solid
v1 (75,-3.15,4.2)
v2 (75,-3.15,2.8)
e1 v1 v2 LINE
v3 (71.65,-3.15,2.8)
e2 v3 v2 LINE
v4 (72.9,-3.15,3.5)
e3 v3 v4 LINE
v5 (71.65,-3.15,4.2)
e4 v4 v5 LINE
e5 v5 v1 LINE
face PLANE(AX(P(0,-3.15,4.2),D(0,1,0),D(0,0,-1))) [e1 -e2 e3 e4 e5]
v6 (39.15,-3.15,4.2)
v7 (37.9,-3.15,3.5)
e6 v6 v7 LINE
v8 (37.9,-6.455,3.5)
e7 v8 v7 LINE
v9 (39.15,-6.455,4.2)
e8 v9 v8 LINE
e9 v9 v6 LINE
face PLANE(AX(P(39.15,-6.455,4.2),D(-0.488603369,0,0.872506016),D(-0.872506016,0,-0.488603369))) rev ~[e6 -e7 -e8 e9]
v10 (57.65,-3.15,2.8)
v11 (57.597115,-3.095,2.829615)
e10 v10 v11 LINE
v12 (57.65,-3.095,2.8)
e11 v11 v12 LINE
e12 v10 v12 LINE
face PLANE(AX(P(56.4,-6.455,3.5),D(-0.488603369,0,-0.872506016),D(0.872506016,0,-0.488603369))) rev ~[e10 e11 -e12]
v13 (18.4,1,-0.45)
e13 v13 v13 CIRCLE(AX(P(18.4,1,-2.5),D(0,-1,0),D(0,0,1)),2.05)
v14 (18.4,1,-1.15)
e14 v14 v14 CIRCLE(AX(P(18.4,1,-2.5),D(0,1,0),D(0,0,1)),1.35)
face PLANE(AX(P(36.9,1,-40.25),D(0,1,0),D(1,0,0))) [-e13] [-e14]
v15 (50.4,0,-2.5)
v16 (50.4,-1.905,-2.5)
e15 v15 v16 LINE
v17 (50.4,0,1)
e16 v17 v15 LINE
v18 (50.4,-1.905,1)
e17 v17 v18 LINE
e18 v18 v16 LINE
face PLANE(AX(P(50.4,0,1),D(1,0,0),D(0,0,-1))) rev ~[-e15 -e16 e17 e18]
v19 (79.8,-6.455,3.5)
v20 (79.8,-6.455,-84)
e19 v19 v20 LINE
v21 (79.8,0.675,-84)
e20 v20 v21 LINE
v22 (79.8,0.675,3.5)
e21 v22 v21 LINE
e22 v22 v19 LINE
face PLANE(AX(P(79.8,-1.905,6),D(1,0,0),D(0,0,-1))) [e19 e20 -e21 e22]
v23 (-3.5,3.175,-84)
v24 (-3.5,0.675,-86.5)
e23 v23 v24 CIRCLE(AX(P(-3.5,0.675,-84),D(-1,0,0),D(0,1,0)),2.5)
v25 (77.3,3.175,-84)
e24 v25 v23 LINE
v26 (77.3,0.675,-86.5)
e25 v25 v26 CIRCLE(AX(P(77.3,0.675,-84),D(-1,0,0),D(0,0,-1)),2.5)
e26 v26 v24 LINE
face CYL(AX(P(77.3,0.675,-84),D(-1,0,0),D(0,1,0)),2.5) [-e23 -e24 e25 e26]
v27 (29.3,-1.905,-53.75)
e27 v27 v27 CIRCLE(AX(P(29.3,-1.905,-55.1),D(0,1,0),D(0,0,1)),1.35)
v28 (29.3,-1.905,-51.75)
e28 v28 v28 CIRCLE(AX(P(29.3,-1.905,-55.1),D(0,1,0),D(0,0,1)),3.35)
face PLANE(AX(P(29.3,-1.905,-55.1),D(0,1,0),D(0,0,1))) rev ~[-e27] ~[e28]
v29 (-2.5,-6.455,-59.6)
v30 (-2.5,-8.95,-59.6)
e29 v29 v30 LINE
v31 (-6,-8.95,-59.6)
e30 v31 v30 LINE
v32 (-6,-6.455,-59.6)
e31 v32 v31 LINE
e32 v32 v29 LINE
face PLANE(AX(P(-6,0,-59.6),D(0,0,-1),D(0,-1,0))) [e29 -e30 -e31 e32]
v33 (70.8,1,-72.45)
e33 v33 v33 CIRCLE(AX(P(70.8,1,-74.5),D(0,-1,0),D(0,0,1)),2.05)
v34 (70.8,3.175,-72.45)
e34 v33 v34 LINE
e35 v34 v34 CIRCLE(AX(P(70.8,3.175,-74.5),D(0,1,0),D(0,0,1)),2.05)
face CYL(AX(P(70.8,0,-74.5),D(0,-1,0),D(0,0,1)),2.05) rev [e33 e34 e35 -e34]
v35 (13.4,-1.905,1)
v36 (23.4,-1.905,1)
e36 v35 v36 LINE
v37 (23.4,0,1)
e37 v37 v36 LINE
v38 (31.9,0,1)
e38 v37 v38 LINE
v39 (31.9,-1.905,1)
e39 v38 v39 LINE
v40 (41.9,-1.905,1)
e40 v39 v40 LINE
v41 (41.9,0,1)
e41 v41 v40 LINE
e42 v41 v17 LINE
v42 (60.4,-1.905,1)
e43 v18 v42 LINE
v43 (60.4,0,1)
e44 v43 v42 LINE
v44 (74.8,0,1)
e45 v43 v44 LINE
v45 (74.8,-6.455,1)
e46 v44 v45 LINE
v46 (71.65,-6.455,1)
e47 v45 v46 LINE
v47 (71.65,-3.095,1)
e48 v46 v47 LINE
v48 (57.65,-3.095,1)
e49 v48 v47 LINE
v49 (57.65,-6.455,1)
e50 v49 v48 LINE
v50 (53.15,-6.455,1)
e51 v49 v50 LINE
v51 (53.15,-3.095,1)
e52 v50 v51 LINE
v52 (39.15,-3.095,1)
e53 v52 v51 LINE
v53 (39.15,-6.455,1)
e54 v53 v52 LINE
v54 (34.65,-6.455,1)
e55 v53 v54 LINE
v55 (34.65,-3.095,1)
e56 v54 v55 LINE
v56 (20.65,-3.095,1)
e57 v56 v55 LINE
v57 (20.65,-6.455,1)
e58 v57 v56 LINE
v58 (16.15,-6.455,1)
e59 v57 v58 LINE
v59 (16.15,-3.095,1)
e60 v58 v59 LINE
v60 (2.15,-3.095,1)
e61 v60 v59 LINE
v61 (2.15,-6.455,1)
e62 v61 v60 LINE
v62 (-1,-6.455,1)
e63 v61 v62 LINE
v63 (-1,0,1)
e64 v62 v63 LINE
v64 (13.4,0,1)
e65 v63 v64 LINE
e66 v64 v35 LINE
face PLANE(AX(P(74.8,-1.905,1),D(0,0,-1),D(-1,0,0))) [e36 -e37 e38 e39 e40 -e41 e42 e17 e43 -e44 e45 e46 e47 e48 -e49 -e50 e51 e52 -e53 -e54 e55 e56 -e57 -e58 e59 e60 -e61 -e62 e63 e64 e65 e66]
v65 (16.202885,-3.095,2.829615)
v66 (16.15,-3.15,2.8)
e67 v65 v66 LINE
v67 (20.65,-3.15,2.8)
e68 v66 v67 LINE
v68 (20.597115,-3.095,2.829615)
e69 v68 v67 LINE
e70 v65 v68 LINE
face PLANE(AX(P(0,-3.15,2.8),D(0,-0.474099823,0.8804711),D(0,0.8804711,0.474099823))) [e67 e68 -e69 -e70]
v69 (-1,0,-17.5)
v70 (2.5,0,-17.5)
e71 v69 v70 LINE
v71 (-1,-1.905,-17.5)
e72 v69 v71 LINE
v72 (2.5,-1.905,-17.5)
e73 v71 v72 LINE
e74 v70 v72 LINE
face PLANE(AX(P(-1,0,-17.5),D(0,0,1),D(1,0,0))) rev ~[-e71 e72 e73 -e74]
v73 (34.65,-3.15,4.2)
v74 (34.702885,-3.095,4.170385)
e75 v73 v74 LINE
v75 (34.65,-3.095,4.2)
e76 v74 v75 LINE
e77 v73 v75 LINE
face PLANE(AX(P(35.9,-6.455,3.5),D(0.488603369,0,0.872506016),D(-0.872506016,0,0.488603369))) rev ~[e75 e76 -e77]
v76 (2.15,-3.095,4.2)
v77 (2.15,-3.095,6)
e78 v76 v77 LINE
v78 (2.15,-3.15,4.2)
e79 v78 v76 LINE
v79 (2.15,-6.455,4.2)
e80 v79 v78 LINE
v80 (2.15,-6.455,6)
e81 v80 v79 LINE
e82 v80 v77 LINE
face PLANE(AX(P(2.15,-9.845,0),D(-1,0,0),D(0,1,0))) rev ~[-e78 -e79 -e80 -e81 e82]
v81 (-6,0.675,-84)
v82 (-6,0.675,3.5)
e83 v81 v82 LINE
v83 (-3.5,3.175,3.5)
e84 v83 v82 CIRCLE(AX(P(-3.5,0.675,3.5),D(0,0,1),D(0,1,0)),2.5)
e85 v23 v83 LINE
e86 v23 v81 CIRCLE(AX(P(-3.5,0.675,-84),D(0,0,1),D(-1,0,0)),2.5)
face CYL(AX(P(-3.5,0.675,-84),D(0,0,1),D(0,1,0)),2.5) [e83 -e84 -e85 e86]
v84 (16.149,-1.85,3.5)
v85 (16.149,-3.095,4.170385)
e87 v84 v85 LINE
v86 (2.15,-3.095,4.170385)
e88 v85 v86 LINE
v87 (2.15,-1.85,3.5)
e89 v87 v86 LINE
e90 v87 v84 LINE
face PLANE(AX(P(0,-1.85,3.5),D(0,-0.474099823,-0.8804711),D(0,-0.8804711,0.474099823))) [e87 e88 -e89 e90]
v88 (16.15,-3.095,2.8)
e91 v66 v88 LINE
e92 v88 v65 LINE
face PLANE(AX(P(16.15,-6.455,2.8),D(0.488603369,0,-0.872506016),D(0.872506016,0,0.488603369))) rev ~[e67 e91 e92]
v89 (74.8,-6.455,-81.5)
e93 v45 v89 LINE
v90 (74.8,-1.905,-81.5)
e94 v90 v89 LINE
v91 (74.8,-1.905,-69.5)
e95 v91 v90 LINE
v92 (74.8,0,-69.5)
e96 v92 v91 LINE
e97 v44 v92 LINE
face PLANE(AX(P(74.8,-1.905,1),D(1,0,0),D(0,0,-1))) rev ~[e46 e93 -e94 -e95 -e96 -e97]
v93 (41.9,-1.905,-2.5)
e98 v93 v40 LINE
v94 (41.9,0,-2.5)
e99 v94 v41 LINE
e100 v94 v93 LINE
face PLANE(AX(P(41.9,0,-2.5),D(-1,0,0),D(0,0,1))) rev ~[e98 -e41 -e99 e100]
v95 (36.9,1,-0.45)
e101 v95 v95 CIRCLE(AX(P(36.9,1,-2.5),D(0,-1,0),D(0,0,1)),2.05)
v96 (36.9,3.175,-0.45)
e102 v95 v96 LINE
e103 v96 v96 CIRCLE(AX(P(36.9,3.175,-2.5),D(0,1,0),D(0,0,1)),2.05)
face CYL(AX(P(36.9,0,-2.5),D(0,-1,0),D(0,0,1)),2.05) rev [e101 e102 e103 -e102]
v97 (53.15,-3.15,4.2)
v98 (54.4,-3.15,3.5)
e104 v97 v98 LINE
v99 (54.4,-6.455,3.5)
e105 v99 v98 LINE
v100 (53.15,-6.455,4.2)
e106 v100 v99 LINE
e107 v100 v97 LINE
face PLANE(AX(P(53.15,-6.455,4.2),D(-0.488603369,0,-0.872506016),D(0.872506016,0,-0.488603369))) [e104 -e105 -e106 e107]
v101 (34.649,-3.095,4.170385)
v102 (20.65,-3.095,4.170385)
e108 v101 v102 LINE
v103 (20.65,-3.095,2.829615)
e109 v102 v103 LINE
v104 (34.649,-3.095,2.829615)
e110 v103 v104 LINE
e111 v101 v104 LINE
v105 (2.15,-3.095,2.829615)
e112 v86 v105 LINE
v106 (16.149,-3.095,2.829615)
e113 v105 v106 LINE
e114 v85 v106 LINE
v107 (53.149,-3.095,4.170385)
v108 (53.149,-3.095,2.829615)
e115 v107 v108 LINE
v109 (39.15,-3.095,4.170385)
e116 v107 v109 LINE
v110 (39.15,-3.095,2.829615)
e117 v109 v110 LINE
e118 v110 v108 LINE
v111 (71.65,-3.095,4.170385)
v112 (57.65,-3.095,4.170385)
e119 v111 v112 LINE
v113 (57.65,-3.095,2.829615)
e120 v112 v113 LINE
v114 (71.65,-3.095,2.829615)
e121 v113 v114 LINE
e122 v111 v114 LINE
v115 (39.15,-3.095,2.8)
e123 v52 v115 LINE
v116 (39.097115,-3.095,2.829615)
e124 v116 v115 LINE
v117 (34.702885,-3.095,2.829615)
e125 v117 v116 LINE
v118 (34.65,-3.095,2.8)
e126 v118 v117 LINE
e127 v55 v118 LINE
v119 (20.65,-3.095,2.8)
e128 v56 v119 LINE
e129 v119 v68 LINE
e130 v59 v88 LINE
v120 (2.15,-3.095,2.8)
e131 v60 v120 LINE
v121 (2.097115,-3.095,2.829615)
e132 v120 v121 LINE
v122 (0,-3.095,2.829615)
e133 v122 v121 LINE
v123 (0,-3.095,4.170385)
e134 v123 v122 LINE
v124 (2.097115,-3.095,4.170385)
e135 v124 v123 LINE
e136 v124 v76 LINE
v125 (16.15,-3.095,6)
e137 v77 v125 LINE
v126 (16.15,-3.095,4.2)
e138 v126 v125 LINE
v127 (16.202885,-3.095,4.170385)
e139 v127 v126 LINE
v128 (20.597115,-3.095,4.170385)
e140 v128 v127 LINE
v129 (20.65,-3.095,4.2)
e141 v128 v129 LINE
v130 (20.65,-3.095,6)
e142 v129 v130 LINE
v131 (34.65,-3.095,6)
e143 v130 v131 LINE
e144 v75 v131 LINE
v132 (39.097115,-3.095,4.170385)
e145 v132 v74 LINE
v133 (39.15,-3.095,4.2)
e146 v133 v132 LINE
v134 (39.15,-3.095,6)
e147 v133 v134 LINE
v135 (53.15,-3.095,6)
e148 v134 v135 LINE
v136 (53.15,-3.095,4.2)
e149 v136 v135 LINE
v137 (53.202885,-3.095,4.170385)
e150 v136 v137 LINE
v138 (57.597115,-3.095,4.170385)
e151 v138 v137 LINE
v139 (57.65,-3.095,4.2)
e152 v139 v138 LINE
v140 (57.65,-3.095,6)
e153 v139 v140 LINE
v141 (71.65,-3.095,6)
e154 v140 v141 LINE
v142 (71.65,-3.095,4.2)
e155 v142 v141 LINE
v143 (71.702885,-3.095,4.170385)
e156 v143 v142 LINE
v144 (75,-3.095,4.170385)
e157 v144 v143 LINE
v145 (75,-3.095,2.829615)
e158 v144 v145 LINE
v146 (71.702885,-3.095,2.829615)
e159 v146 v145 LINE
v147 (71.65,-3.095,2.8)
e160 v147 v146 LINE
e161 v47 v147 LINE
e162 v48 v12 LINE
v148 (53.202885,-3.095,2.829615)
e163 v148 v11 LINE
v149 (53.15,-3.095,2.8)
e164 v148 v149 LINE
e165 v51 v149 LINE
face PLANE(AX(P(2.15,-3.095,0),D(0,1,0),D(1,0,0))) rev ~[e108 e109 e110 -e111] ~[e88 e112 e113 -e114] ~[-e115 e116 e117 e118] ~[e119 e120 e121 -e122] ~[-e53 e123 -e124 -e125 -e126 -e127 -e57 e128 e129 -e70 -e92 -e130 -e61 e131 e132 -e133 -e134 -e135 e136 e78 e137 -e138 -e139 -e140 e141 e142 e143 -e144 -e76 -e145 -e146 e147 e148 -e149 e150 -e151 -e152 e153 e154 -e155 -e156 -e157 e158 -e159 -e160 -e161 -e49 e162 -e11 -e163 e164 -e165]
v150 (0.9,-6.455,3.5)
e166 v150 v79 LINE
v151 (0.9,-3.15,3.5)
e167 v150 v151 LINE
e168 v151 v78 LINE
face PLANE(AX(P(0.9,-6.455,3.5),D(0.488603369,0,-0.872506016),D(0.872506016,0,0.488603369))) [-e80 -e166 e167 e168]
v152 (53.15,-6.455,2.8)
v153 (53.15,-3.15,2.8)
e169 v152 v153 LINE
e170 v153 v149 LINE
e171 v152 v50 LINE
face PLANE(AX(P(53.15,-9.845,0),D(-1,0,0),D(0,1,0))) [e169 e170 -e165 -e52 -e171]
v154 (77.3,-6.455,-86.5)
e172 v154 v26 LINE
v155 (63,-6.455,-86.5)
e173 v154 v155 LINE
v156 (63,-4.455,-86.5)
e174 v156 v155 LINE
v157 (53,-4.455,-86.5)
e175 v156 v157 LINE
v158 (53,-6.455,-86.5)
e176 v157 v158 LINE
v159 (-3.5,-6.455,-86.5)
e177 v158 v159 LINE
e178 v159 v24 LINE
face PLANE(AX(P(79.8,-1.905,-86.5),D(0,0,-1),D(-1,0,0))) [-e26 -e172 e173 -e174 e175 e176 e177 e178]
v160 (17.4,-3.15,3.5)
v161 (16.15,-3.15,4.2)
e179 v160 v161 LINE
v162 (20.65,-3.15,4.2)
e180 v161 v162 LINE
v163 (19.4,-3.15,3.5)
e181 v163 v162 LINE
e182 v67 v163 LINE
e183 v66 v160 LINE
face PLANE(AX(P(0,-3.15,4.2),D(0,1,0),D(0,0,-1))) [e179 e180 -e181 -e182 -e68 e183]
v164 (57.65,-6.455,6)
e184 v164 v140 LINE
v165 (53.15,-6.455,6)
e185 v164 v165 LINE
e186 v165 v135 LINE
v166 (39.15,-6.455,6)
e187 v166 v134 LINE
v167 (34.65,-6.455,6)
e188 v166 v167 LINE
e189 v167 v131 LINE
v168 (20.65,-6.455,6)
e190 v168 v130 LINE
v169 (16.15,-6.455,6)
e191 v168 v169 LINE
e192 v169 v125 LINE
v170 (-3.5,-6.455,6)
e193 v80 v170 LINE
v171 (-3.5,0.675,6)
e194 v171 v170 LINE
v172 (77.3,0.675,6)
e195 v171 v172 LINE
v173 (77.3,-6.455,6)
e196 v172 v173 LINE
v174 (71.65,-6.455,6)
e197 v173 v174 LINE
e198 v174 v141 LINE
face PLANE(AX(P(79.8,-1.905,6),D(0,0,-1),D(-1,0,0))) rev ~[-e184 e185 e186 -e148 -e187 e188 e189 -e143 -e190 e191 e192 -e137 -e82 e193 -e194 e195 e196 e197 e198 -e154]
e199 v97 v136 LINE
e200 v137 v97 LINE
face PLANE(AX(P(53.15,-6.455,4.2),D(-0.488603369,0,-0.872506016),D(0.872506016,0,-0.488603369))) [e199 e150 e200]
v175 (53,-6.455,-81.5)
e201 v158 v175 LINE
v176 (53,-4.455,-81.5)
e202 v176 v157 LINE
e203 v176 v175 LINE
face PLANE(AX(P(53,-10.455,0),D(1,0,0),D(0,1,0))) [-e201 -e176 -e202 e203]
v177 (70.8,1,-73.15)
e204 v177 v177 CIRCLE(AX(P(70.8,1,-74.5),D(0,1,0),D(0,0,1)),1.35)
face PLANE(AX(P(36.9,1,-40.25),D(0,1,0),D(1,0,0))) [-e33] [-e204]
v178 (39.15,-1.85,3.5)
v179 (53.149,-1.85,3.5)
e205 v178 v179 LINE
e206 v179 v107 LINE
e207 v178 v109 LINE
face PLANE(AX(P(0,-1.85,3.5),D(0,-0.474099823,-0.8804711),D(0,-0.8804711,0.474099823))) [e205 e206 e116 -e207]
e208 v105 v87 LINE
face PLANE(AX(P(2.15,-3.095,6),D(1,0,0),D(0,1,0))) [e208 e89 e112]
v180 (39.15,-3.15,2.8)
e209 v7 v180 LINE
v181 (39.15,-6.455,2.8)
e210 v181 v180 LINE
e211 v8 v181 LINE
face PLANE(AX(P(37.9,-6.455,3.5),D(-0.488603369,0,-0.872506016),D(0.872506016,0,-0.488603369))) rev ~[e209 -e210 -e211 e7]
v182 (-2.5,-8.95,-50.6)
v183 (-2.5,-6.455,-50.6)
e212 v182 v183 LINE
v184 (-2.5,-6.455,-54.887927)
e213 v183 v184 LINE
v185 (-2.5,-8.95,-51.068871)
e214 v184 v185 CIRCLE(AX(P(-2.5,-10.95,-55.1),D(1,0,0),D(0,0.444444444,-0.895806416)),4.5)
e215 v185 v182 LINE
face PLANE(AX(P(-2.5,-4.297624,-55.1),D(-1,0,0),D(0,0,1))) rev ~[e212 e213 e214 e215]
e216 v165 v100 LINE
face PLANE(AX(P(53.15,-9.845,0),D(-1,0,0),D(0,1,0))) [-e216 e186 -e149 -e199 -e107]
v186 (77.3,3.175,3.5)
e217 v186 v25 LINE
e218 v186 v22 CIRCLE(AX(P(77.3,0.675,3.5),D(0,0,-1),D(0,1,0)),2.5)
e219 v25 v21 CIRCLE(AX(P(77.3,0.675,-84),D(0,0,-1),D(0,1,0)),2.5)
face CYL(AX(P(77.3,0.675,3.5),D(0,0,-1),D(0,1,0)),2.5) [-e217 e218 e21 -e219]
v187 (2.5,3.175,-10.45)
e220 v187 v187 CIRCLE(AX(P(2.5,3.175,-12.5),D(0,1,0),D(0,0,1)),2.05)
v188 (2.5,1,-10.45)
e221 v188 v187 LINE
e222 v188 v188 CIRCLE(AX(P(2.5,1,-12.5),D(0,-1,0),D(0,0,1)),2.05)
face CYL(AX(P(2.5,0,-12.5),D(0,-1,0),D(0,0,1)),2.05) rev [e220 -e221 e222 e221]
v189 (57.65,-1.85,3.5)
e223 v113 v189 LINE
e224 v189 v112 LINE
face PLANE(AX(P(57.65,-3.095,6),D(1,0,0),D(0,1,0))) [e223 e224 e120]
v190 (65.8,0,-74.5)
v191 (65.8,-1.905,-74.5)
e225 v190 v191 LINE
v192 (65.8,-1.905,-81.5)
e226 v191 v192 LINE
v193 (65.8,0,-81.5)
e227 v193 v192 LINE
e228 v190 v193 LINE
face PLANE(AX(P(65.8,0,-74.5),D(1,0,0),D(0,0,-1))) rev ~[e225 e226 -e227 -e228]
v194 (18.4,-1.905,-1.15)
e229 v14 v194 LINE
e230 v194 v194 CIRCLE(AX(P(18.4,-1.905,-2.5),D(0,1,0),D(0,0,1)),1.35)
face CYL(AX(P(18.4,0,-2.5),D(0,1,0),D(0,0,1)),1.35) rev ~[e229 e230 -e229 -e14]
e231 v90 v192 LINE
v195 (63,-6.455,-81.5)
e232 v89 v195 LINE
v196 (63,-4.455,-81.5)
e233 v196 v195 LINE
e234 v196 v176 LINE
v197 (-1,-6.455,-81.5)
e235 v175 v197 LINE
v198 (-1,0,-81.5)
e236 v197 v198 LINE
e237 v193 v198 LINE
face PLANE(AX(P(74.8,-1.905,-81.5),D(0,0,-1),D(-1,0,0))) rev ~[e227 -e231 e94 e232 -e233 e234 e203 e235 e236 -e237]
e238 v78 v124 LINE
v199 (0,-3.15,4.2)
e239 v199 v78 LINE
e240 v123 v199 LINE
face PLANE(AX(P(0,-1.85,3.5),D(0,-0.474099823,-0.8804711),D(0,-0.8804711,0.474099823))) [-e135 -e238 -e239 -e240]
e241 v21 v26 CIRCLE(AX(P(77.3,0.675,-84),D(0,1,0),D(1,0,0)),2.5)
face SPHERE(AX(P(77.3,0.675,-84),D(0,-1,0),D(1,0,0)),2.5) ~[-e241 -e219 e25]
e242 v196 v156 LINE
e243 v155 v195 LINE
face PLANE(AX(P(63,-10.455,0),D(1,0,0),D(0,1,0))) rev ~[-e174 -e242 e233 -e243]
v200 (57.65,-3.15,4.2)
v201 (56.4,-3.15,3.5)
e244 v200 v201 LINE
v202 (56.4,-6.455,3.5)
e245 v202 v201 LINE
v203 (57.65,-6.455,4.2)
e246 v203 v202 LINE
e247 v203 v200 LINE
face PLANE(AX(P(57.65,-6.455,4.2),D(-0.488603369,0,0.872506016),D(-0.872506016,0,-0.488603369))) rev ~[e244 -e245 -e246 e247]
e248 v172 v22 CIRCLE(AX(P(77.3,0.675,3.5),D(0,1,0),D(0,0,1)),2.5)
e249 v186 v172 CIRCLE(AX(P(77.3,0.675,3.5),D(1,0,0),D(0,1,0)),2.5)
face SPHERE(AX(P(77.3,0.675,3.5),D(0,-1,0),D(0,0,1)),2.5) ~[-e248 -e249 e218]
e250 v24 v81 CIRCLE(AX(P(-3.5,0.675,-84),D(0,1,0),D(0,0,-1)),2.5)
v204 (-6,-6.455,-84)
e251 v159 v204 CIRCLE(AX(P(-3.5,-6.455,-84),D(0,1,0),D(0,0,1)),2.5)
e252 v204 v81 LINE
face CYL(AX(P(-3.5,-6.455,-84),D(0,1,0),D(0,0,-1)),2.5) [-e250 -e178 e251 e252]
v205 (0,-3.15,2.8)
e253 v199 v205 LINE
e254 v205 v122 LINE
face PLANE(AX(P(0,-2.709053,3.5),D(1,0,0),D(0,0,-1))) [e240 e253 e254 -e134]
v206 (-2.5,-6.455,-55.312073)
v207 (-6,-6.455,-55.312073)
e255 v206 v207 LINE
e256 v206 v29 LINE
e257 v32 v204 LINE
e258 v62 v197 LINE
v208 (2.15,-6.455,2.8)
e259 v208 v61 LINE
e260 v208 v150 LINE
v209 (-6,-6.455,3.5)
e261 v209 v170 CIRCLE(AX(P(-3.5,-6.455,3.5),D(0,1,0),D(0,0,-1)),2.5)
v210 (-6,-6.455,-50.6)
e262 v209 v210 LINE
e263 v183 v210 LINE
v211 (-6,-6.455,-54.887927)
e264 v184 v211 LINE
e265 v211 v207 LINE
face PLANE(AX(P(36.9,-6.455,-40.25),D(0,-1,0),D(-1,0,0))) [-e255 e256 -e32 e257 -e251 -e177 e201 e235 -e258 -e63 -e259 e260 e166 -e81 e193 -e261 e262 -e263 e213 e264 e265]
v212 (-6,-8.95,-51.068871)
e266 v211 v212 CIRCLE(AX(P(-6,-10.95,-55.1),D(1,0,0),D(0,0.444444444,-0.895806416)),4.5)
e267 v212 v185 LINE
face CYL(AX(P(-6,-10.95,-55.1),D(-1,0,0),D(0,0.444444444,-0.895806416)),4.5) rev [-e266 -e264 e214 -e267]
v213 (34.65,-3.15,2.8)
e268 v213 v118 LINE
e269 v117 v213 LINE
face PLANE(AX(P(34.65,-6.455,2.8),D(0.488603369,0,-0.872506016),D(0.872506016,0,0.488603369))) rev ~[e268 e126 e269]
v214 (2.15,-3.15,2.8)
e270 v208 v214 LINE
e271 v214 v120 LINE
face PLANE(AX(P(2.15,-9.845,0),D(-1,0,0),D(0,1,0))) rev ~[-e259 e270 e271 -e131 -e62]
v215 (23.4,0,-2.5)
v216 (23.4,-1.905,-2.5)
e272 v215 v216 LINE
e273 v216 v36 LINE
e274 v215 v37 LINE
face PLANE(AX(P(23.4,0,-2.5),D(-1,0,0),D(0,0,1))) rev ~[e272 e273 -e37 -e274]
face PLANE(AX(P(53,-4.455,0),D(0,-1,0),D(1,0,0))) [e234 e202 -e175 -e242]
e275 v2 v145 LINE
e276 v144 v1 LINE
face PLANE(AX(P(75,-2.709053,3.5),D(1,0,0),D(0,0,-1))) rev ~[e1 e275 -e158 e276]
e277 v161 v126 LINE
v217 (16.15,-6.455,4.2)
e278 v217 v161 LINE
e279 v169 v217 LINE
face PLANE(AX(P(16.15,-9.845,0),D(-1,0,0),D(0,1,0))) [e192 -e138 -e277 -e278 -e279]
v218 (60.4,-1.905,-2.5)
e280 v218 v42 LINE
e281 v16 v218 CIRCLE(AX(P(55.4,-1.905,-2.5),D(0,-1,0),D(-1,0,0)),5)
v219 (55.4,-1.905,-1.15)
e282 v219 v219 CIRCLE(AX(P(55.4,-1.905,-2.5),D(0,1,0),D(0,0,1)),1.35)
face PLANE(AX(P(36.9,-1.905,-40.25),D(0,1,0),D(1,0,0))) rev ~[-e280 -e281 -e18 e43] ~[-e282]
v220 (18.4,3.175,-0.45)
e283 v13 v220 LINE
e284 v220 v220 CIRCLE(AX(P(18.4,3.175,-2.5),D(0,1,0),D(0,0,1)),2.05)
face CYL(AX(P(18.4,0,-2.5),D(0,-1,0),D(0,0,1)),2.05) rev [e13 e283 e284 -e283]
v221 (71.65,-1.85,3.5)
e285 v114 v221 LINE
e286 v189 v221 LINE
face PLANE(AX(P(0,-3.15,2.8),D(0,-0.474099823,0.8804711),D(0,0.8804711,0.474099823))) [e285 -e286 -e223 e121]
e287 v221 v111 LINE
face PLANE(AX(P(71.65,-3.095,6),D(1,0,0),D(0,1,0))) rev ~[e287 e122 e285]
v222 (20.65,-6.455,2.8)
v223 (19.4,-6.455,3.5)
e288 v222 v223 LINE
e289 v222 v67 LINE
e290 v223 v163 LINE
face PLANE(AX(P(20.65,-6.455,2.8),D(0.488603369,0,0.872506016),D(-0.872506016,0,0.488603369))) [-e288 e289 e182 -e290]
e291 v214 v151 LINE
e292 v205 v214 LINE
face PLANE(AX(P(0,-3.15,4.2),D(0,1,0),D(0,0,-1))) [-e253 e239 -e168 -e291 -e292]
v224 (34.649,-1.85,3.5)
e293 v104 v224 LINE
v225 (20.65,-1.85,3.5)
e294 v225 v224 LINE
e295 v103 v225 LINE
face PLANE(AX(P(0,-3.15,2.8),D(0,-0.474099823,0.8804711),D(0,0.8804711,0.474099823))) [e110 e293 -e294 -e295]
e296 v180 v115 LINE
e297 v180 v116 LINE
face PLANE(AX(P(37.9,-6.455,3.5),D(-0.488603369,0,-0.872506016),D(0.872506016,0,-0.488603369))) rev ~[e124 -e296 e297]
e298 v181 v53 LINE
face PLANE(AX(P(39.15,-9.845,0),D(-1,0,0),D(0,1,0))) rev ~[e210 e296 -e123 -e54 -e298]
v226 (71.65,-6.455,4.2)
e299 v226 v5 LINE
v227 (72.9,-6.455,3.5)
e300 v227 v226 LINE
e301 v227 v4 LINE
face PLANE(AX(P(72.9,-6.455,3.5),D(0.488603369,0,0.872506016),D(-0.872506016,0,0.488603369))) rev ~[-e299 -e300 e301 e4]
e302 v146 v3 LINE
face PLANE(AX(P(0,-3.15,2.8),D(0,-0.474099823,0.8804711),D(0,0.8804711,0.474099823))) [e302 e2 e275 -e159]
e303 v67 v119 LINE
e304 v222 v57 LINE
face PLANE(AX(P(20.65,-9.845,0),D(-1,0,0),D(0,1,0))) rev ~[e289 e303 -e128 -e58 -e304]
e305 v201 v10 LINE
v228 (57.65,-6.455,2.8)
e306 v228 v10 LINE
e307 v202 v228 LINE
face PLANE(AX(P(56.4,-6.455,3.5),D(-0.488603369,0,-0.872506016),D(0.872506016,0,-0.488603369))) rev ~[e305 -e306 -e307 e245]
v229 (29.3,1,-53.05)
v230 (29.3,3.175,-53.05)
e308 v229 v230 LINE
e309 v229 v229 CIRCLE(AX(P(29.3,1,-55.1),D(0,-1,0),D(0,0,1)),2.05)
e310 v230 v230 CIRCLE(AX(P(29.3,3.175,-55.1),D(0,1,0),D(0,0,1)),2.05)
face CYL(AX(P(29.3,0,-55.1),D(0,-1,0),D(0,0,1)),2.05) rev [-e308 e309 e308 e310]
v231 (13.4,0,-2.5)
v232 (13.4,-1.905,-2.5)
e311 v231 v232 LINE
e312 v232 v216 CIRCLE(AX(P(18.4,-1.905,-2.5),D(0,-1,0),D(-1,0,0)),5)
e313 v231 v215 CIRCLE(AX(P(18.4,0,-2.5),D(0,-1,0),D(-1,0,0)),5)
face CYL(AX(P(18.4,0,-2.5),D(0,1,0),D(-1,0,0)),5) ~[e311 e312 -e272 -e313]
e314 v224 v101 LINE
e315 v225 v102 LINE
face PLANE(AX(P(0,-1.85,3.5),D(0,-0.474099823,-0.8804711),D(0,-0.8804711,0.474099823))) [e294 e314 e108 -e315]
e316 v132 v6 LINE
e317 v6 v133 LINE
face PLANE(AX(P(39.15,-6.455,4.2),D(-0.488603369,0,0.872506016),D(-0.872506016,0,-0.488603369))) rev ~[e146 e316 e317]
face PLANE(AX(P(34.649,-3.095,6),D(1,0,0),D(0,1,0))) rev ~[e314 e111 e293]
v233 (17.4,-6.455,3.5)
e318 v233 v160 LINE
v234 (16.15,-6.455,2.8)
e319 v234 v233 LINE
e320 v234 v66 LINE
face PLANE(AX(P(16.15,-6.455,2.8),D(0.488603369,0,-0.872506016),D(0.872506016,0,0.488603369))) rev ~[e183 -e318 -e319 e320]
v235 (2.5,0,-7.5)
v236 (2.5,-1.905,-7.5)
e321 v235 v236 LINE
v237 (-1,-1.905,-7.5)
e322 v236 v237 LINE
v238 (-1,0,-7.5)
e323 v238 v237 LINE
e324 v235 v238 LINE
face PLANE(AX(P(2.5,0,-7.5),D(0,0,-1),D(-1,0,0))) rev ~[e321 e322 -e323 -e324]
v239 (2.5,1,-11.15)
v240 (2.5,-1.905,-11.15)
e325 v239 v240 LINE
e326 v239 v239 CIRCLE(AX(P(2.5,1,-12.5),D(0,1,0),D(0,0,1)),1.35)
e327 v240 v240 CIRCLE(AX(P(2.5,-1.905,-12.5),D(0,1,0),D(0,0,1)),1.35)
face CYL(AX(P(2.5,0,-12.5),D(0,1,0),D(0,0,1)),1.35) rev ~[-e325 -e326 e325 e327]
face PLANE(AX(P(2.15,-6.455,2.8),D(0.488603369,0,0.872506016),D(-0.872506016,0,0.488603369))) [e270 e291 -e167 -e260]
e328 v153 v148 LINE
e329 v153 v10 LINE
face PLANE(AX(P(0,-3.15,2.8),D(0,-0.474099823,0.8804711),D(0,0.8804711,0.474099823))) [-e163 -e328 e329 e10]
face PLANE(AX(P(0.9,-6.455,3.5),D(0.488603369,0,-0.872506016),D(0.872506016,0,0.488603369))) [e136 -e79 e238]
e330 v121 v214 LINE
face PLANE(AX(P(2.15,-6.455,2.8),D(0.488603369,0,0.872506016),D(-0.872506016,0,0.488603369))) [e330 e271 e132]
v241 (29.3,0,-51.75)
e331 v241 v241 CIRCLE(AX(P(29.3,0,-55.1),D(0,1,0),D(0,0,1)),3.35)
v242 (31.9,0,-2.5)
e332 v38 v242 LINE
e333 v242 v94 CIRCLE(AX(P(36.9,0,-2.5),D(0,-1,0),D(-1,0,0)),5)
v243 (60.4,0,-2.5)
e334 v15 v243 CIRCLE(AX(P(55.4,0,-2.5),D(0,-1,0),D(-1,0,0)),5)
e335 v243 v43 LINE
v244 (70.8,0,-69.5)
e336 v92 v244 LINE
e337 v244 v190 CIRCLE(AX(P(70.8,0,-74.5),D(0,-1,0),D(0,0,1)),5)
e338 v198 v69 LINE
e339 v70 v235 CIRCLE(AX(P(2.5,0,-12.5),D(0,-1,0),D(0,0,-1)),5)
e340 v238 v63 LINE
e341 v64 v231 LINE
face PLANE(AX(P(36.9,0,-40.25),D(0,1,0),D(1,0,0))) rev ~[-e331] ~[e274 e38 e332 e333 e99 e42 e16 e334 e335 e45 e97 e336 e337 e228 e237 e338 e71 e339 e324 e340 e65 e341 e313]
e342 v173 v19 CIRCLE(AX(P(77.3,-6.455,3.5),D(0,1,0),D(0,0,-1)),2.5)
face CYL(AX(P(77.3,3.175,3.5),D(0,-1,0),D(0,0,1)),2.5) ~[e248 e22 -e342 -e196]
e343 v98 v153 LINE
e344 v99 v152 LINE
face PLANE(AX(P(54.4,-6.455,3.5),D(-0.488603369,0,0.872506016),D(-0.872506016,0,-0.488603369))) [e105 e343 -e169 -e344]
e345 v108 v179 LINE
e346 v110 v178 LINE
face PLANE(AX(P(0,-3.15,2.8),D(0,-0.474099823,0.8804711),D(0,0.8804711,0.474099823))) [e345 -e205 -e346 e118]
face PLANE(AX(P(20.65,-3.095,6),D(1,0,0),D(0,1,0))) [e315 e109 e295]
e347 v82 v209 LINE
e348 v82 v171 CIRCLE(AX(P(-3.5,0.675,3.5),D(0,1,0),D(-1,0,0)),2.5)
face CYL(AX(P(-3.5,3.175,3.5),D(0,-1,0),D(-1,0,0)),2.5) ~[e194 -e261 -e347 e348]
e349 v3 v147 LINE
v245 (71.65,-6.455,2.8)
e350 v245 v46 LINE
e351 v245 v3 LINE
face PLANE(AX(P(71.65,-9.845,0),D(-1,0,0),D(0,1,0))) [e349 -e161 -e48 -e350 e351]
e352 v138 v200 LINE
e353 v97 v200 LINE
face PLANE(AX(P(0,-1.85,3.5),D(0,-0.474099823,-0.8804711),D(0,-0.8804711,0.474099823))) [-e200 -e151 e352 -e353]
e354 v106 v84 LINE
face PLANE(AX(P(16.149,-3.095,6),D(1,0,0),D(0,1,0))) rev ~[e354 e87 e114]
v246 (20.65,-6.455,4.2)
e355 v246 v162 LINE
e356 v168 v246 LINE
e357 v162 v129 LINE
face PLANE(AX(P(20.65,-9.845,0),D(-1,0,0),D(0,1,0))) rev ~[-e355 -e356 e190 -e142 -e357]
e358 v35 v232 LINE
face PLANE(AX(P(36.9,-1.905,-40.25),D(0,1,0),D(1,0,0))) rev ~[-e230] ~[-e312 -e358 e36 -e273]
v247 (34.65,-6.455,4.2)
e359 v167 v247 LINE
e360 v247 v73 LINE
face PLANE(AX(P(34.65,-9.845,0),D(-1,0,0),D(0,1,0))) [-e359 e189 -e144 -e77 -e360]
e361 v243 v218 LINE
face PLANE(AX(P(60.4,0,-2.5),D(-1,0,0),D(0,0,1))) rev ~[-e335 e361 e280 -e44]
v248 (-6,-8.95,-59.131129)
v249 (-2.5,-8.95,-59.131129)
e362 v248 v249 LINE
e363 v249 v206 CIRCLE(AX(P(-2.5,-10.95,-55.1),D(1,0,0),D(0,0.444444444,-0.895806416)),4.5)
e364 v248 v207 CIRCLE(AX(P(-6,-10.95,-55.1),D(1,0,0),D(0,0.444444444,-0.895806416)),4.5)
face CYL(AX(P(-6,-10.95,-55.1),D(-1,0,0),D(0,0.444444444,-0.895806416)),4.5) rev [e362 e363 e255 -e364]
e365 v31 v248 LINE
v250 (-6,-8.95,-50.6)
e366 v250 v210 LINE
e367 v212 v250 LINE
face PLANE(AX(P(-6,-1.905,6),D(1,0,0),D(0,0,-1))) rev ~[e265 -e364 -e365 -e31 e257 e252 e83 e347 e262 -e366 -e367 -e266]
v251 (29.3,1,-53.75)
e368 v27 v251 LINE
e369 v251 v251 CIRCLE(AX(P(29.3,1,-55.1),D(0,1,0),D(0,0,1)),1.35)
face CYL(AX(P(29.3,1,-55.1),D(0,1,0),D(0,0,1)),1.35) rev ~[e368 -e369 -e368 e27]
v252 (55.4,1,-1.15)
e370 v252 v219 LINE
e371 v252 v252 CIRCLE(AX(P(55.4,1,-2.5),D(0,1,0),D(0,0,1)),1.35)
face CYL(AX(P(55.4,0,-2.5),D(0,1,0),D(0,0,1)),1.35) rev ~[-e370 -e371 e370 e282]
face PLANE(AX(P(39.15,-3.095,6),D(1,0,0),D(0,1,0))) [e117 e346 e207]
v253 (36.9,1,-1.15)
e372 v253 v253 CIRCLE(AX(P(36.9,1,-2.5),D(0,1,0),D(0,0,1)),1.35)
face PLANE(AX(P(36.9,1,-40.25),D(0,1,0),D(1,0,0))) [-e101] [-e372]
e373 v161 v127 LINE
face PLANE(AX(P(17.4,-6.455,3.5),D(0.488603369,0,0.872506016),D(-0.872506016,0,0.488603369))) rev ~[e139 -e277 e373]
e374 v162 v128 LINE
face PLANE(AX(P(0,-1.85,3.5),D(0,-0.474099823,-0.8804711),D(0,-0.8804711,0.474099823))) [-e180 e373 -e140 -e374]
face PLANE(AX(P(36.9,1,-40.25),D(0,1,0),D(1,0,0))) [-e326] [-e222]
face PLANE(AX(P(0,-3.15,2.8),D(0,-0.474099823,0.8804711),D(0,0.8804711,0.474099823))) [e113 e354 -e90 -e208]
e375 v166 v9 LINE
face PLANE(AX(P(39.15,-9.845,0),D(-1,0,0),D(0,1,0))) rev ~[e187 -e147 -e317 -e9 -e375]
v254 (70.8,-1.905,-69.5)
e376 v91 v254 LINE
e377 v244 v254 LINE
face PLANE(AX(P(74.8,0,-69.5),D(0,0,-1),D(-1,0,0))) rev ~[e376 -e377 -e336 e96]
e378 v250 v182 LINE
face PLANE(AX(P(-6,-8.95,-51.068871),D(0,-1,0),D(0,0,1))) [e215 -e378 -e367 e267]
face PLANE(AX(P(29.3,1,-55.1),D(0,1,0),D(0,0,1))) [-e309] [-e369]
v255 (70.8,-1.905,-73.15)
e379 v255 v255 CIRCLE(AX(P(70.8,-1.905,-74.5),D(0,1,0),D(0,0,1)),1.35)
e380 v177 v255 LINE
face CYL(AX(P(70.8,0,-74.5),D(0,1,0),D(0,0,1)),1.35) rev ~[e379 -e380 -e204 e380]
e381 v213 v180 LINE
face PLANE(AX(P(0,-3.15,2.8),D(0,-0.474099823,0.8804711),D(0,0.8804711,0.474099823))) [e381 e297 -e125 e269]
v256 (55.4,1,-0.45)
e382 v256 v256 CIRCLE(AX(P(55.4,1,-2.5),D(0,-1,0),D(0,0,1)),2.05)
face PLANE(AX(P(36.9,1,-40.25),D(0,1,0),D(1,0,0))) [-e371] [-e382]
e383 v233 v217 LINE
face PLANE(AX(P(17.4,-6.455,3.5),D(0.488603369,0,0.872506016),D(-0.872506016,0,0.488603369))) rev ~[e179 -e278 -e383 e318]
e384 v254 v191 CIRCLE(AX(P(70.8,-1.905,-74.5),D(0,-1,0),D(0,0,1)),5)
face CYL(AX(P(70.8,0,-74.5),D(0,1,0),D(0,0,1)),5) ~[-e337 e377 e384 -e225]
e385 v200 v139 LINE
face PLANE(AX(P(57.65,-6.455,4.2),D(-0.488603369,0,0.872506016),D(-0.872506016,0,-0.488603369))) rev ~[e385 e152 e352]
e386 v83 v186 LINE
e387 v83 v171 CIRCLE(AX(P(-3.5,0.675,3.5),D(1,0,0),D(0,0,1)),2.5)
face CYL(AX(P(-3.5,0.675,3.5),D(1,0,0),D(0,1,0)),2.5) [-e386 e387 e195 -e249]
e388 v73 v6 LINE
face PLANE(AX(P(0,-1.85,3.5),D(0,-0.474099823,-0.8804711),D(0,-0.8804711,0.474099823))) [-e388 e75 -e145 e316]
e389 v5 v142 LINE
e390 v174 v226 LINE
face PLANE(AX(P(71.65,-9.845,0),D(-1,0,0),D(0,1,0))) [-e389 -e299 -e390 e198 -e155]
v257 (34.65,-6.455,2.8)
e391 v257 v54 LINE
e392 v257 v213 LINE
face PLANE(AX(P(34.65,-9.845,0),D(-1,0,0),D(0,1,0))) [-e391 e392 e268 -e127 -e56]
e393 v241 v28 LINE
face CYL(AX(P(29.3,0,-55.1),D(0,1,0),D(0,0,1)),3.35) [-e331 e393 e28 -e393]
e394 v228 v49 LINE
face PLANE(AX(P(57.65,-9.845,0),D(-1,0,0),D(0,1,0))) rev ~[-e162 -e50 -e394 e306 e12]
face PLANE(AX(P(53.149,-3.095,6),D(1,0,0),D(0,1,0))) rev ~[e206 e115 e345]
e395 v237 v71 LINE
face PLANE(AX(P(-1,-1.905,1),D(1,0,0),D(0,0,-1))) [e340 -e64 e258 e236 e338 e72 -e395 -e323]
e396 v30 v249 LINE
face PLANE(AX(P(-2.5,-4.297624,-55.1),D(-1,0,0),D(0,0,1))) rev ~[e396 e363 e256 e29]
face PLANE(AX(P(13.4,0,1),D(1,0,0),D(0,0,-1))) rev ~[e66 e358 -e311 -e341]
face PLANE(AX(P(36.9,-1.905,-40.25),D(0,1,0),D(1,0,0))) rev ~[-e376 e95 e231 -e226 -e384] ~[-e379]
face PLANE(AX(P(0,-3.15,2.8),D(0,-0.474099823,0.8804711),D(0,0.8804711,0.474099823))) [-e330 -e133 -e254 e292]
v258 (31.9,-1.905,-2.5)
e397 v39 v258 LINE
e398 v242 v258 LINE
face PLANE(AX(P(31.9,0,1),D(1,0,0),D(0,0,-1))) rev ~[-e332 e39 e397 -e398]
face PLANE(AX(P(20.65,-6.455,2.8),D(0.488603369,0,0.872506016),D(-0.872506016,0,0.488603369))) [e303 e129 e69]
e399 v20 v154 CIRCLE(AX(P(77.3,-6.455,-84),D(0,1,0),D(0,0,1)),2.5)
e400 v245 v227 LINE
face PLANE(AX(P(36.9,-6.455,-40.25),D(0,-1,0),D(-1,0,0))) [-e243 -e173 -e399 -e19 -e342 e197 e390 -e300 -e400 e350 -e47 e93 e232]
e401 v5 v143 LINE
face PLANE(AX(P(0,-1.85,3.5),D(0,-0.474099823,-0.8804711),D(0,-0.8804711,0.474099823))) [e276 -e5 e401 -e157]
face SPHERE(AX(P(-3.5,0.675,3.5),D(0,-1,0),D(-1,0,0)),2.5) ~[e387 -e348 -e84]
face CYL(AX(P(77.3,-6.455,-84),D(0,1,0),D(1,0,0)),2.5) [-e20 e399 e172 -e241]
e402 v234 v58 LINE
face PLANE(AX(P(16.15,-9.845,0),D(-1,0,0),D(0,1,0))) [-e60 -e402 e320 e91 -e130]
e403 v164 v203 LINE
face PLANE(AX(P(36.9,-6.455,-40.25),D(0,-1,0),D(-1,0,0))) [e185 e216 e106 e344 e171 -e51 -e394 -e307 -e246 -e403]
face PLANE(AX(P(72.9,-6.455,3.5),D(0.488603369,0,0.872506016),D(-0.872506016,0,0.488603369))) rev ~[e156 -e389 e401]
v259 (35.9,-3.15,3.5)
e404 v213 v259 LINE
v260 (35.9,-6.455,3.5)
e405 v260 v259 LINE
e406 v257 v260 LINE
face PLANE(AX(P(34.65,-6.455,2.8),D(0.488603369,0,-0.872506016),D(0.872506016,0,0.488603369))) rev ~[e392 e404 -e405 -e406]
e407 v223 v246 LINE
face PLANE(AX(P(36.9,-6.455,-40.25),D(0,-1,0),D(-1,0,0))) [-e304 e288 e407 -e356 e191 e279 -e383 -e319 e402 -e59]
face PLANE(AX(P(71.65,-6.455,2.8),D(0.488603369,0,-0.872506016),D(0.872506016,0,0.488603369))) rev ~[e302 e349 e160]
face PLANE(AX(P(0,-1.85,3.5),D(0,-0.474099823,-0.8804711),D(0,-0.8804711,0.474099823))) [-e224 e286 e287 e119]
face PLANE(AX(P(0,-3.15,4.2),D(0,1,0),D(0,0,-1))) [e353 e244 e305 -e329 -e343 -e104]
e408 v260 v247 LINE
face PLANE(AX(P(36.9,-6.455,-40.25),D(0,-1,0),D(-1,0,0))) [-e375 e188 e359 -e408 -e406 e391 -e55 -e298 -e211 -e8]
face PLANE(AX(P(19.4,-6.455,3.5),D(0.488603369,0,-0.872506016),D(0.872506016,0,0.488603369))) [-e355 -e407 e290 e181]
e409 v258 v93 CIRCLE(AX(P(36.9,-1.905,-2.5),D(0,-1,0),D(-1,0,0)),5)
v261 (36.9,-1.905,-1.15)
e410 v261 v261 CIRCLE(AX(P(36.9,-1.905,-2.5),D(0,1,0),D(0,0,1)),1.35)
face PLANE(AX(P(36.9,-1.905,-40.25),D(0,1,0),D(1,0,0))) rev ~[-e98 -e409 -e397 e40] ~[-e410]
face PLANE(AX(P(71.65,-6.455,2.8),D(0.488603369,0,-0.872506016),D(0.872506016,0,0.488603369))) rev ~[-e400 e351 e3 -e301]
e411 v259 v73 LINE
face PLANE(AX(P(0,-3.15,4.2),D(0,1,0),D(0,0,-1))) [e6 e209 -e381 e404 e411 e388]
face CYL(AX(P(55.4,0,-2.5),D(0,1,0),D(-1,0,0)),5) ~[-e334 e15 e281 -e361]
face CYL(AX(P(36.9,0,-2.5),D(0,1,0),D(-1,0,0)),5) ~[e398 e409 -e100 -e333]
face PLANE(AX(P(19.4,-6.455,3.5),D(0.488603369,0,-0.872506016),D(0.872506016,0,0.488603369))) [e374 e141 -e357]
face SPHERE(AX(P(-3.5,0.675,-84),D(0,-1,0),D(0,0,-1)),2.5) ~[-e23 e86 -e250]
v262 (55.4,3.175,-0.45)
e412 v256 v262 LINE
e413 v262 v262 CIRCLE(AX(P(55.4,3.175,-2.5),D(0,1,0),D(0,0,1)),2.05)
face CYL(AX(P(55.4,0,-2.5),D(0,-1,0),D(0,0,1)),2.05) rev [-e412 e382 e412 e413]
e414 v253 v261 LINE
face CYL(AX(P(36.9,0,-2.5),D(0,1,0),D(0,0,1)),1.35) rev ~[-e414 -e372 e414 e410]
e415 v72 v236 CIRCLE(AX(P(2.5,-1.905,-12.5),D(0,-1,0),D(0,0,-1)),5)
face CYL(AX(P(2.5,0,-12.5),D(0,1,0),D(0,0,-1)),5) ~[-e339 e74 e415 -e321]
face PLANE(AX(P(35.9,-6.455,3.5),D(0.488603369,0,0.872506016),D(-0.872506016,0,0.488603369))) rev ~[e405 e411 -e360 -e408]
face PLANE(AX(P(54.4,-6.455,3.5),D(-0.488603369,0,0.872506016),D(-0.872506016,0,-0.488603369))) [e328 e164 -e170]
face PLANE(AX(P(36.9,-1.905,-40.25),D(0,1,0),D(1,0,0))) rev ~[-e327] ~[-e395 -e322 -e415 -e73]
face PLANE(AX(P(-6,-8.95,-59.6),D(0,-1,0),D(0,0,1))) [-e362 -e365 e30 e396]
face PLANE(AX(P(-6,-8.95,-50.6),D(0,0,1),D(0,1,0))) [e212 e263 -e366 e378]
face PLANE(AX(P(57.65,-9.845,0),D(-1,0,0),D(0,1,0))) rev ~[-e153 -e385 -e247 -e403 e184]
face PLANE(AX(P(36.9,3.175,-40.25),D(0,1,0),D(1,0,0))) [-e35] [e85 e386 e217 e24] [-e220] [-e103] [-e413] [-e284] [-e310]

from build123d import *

# Parameters (mm, degrees)
SKETCH1_W           = 85.8
SKETCH1_H           = 92.5
SKETCH1_R           = 2.05
BOSS_EXTRUDE1_DEPTH = 3.175
SKETCH2_W           = 85.8
SKETCH2_H           = 92.5
SKETCH2_R           = 1.35
SKETCH2_R_2         = 3.35
BOSS_EXTRUDE2_DEPTH = 1.905
BOSS_EXTRUDE3_START = 1
SKETCH2_3_W         = 85.8
SKETCH2_3_H         = 92.5
SKETCH2_3_R         = 1.35
SKETCH2_3_R_2       = 3.35
BOSS_EXTRUDE3_DEPTH = 1
SKETCH3_W           = 85.8
SKETCH3_H           = 92.5
SKETCH3_W_2         = 75.8
SKETCH3_H_2         = 82.5
BOSS_EXTRUDE4_DEPTH = 4.55
SKETCH4_W           = 14
SKETCH4_H           = 6.75
CUT_EXTRUDE1_DEPTH  = 118.864146478
SKETCH5_W           = 10
SKETCH5_H           = 6
CUT_EXTRUDE2_DEPTH  = 118.864146478
BOSS_EXTRUDE5_DEPTH = 3.5
FILLET1_R           = 2.5
FILLET2_R           = 2.5
FILLET3_R           = 2.5
FILLET4_R           = 2.5
FILLET5_R           = 2.5
CUT_EXTRUDE3_DEPTH  = 3.36
CUT_EXTRUDE4_DEPTH  = 75
SKETCH10_W          = 4.501
SKETCH10_H          = 3
BOSS_EXTRUDE6_DEPTH = 5


with BuildPart() as part:
    # Sketch1 → Boss-Extrude1 (new body)
    with BuildSketch(Plane(origin=(0, 0, 0), x_dir=(1, 0, 0), z_dir=(0, 1, 0))):
        with Locations((36.9, 40.25)):
            Rectangle(SKETCH1_W, SKETCH1_H)
        with Locations((2.5, 12.5)):
            Circle(SKETCH1_R, mode=Mode.SUBTRACT)
        with Locations((18.4, 2.5)):
            Circle(SKETCH1_R, mode=Mode.SUBTRACT)
        with Locations((36.9, 2.5)):
            Circle(SKETCH1_R, mode=Mode.SUBTRACT)
        with Locations((55.4, 2.5)):
            Circle(SKETCH1_R, mode=Mode.SUBTRACT)
        with Locations((29.3, 55.1)):
            Circle(SKETCH1_R, mode=Mode.SUBTRACT)
        with Locations((70.8, 74.5)):
            Circle(SKETCH1_R, mode=Mode.SUBTRACT)
    extrude(amount=BOSS_EXTRUDE1_DEPTH)

    # Sketch2 → Boss-Extrude2 (add)
    # profile 1 of 2: a face of its own
    with BuildSketch(Plane(origin=(0, 0, 0), x_dir=(1, 0, 0), z_dir=(0, 1, 0))):
        with Locations((36.9, 40.25)):
            Rectangle(SKETCH2_W, SKETCH2_H)
        with Locations((2.5, 12.5)):
            Circle(SKETCH2_R, mode=Mode.SUBTRACT)
        with Locations((18.4, 2.5)):
            Circle(SKETCH2_R, mode=Mode.SUBTRACT)
        with Locations((36.9, 2.5)):
            Circle(SKETCH2_R, mode=Mode.SUBTRACT)
        with Locations((55.4, 2.5)):
            Circle(SKETCH2_R, mode=Mode.SUBTRACT)
        with BuildLine():
            Line((-1, 7.5), (2.5, 7.5))
            ThreePointArc((2.5, 7.5), (7.5, 12.5), (2.5, 17.5))
            Line((2.5, 17.5), (-1, 17.5))
            Line((-1, 17.5), (-1, 81.5))
            Line((-1, 81.5), (65.8, 81.5))
            Line((65.8, 81.5), (65.8, 74.5))
            ThreePointArc((65.8, 74.5), (67.264466094, 70.964466094), (70.8, 69.5))
            Line((70.8, 69.5), (74.8, 69.5))
            Line((74.8, 69.5), (74.8, -1))
            Line((74.8, -1), (60.4, -1))
            Line((60.4, -1), (60.4, 2.5))
            ThreePointArc((60.4, 2.5), (55.4, 7.5), (50.4, 2.5))
            Line((50.4, 2.5), (50.4, -1))
            Line((50.4, -1), (41.9, -1))
            Line((41.9, -1), (41.9, 2.5))
            ThreePointArc((41.9, 2.5), (36.9, 7.5), (31.9, 2.5))
            Line((31.9, 2.5), (31.9, -1))
            Line((31.9, -1), (23.4, -1))
            Line((23.4, -1), (23.4, 2.5))
            ThreePointArc((23.4, 2.5), (18.4, 7.5), (13.4, 2.5))
            Line((13.4, 2.5), (13.4, -1))
            Line((13.4, -1), (-1, -1))
            Line((-1, -1), (-1, 7.5))
        make_face(mode=Mode.SUBTRACT)
        with Locations((70.8, 74.5)):
            Circle(SKETCH2_R, mode=Mode.SUBTRACT)
    # profile 2 of 2: a face of its own
    with BuildSketch(Plane(origin=(0, 0, 0), x_dir=(1, 0, 0), z_dir=(0, 1, 0))):
        with Locations((29.3, 55.1)):
            Circle(SKETCH2_R_2)
        with Locations((29.3, 55.1)):
            Circle(SKETCH2_R, mode=Mode.SUBTRACT)
    extrude(amount=-BOSS_EXTRUDE2_DEPTH)

    # Sketch2<3> → Boss-Extrude3 (add)
    # profile 1 of 2: a face of its own
    with BuildSketch(Plane(origin=(0, 0, 0), x_dir=(1, 0, 0), z_dir=(0, 1, 0)).offset(BOSS_EXTRUDE3_START)):
        with Locations((36.9, 40.25)):
            Rectangle(SKETCH2_3_W, SKETCH2_3_H)
        with Locations((2.5, 12.5)):
            Circle(SKETCH2_3_R, mode=Mode.SUBTRACT)
        with Locations((18.4, 2.5)):
            Circle(SKETCH2_3_R, mode=Mode.SUBTRACT)
        with Locations((36.9, 2.5)):
            Circle(SKETCH2_3_R, mode=Mode.SUBTRACT)
        with Locations((55.4, 2.5)):
            Circle(SKETCH2_3_R, mode=Mode.SUBTRACT)
        with BuildLine():
            Line((-1, 7.5), (2.5, 7.5))
            ThreePointArc((2.5, 7.5), (7.5, 12.5), (2.5, 17.5))
            Line((2.5, 17.5), (-1, 17.5))
            Line((-1, 17.5), (-1, 81.5))
            Line((-1, 81.5), (65.8, 81.5))
            Line((65.8, 81.5), (65.8, 74.5))
            ThreePointArc((65.8, 74.5), (67.264466094, 70.964466094), (70.8, 69.5))
            Line((70.8, 69.5), (74.8, 69.5))
            Line((74.8, 69.5), (74.8, -1))
            Line((74.8, -1), (60.4, -1))
            Line((60.4, -1), (60.4, 2.5))
            ThreePointArc((60.4, 2.5), (55.4, 7.5), (50.4, 2.5))
            Line((50.4, 2.5), (50.4, -1))
            Line((50.4, -1), (41.9, -1))
            Line((41.9, -1), (41.9, 2.5))
            ThreePointArc((41.9, 2.5), (36.9, 7.5), (31.9, 2.5))
            Line((31.9, 2.5), (31.9, -1))
            Line((31.9, -1), (23.4, -1))
            Line((23.4, -1), (23.4, 2.5))
            ThreePointArc((23.4, 2.5), (18.4, 7.5), (13.4, 2.5))
            Line((13.4, 2.5), (13.4, -1))
            Line((13.4, -1), (-1, -1))
            Line((-1, -1), (-1, 7.5))
        make_face(mode=Mode.SUBTRACT)
        with Locations((70.8, 74.5)):
            Circle(SKETCH2_3_R, mode=Mode.SUBTRACT)
    # profile 2 of 2: a face of its own
    with BuildSketch(Plane(origin=(0, 0, 0), x_dir=(1, 0, 0), z_dir=(0, 1, 0)).offset(BOSS_EXTRUDE3_START)):
        with Locations((29.3, 55.1)):
            Circle(SKETCH2_3_R_2)
        with Locations((29.3, 55.1)):
            Circle(SKETCH2_3_R, mode=Mode.SUBTRACT)
    extrude(amount=-BOSS_EXTRUDE3_DEPTH)

    # Sketch3 → Boss-Extrude4 (add)
    with BuildSketch(Plane(origin=(0, -1.905, 0), x_dir=(-1, 0, 0), z_dir=(0, -1, 0))):
        with Locations((-36.9, 40.25)):
            Rectangle(SKETCH3_W, SKETCH3_H)
        with Locations((-36.9, 40.25)):
            Rectangle(SKETCH3_W_2, SKETCH3_H_2, mode=Mode.SUBTRACT)
    extrude(amount=BOSS_EXTRUDE4_DEPTH)

    # Sketch4 → Cut-Extrude1 (cut, through all)
    with BuildSketch(Plane.XY):
        with Locations((9.15, -6.47)):
            Rectangle(SKETCH4_W, SKETCH4_H)
        with Locations((27.65, -6.47)):
            Rectangle(SKETCH4_W, SKETCH4_H)
        with Locations((46.15, -6.47)):
            Rectangle(SKETCH4_W, SKETCH4_H)
        with Locations((64.65, -6.47)):
            Rectangle(SKETCH4_W, SKETCH4_H)
    extrude(amount=CUT_EXTRUDE1_DEPTH, mode=Mode.SUBTRACT)

    # Sketch5 → Cut-Extrude2 (cut, through all)
    with BuildSketch(Plane.XY):
        with Locations((58, -7.455)):
            Rectangle(SKETCH5_W, SKETCH5_H)
    extrude(amount=-CUT_EXTRUDE2_DEPTH, mode=Mode.SUBTRACT)

    # Sketch6 → Boss-Extrude5 (add)
    with BuildSketch(Plane.ZY.offset(6)):
        with BuildLine():
            Line((-59.6, 0), (-59.6, -8.95))
            Line((-59.6, -8.95), (-59.131128874, -8.95))
            ThreePointArc((-59.131128874, -8.95), (-55.1, -6.45), (-51.068871126, -8.95))
            Line((-51.068871126, -8.95), (-50.6, -8.95))
            Line((-50.6, -8.95), (-50.6, 0))
            Line((-50.6, 0), (-59.6, 0))
        make_face()
    extrude(amount=-BOSS_EXTRUDE5_DEPTH)

    # Fillet1
    fillet1_edges = [part.edges().sort_by_distance(p)[0] for p in [
        (79.8, -1.64, 6),
    ]]
    fillet(fillet1_edges, radius=FILLET1_R)

    # Fillet2
    fillet2_edges = [part.edges().sort_by_distance(p)[0] for p in [
        (79.8, -1.64, -86.5),
    ]]
    fillet(fillet2_edges, radius=FILLET2_R)

    # Fillet3
    fillet3_edges = [part.edges().sort_by_distance(p)[0] for p in [
        (-6, -1.64, -86.5),
    ]]
    fillet(fillet3_edges, radius=FILLET3_R)

    # Fillet4
    fillet4_edges = [part.edges().sort_by_distance(p)[0] for p in [
        (-6, -1.64, 6),
    ]]
    fillet(fillet4_edges, radius=FILLET4_R)

    # Fillet5
    fillet5_edges = [part.edges().sort_by_distance(p)[0] for p in [
        (79.067766953, 3.175, -85.767766953),
        (79.8, 3.175, -40.25),
        (79.067766953, 3.175, 5.267766953),
        (36.9, 3.175, 6),
        (-5.267766953, 3.175, 5.267766953),
        (-6, 3.175, -40.25),
        (-5.267766953, 3.175, -85.767766953),
        (36.9, 3.175, -86.5),
    ]]
    fillet(fillet5_edges, radius=FILLET5_R)

    # Sketch7 → Cut-Extrude3 (cut)
    with BuildSketch(Plane(origin=(0, -6.455, 0), x_dir=(-1, 0, 0), z_dir=(0, -1, 0))):
        Polygon((-2.15, -2.8), (-0.9, -3.5), (-2.15, -4.2), align=None)
        Polygon((-16.15, -2.8), (-17.4, -3.5), (-16.15, -4.2), align=None)
        Polygon((-20.65, -2.8), (-19.4, -3.5), (-20.65, -4.2), align=None)
        Polygon((-34.65, -2.8), (-35.9, -3.5), (-34.65, -4.2), align=None)
        Polygon((-39.15, -2.8), (-39.15, -4.2), (-37.9, -3.5), align=None)
        Polygon((-53.15, -2.8), (-53.15, -4.2), (-54.4, -3.5), align=None)
        Polygon((-57.65, -4.2), (-56.4, -3.5), (-57.65, -2.8), align=None)
        Polygon((-71.65, -2.8), (-72.9, -3.5), (-71.65, -4.2), align=None)
    extrude(amount=-CUT_EXTRUDE3_DEPTH, mode=Mode.SUBTRACT)

    # Sketch8 → Cut-Extrude4 (cut)
    with BuildSketch(Plane(origin=(0, 0, 0), x_dir=(0, 0, -1), z_dir=(1, 0, 0))):
        Polygon((-4.2, -3.15), (-2.8, -3.15), (-3.5, -1.85), align=None)
    extrude(amount=CUT_EXTRUDE4_DEPTH, mode=Mode.SUBTRACT)

    # Sketch10 → Boss-Extrude6 (add)
    with BuildSketch(Plane.XY.offset(6)):
        with Locations((-0.1005, -1.595)):
            Rectangle(SKETCH10_W, SKETCH10_H)
        with Locations((18.3995, -1.595)):
            Rectangle(SKETCH10_W, SKETCH10_H)
        with Locations((36.8995, -1.595)):
            Rectangle(SKETCH10_W, SKETCH10_H)
        with Locations((55.3995, -1.595)):
            Rectangle(SKETCH10_W, SKETCH10_H)
        with Locations((73.9005, -1.595)):
            Rectangle(SKETCH10_W, SKETCH10_H)
    extrude(amount=-BOSS_EXTRUDE6_DEPTH)


solid = part.part
